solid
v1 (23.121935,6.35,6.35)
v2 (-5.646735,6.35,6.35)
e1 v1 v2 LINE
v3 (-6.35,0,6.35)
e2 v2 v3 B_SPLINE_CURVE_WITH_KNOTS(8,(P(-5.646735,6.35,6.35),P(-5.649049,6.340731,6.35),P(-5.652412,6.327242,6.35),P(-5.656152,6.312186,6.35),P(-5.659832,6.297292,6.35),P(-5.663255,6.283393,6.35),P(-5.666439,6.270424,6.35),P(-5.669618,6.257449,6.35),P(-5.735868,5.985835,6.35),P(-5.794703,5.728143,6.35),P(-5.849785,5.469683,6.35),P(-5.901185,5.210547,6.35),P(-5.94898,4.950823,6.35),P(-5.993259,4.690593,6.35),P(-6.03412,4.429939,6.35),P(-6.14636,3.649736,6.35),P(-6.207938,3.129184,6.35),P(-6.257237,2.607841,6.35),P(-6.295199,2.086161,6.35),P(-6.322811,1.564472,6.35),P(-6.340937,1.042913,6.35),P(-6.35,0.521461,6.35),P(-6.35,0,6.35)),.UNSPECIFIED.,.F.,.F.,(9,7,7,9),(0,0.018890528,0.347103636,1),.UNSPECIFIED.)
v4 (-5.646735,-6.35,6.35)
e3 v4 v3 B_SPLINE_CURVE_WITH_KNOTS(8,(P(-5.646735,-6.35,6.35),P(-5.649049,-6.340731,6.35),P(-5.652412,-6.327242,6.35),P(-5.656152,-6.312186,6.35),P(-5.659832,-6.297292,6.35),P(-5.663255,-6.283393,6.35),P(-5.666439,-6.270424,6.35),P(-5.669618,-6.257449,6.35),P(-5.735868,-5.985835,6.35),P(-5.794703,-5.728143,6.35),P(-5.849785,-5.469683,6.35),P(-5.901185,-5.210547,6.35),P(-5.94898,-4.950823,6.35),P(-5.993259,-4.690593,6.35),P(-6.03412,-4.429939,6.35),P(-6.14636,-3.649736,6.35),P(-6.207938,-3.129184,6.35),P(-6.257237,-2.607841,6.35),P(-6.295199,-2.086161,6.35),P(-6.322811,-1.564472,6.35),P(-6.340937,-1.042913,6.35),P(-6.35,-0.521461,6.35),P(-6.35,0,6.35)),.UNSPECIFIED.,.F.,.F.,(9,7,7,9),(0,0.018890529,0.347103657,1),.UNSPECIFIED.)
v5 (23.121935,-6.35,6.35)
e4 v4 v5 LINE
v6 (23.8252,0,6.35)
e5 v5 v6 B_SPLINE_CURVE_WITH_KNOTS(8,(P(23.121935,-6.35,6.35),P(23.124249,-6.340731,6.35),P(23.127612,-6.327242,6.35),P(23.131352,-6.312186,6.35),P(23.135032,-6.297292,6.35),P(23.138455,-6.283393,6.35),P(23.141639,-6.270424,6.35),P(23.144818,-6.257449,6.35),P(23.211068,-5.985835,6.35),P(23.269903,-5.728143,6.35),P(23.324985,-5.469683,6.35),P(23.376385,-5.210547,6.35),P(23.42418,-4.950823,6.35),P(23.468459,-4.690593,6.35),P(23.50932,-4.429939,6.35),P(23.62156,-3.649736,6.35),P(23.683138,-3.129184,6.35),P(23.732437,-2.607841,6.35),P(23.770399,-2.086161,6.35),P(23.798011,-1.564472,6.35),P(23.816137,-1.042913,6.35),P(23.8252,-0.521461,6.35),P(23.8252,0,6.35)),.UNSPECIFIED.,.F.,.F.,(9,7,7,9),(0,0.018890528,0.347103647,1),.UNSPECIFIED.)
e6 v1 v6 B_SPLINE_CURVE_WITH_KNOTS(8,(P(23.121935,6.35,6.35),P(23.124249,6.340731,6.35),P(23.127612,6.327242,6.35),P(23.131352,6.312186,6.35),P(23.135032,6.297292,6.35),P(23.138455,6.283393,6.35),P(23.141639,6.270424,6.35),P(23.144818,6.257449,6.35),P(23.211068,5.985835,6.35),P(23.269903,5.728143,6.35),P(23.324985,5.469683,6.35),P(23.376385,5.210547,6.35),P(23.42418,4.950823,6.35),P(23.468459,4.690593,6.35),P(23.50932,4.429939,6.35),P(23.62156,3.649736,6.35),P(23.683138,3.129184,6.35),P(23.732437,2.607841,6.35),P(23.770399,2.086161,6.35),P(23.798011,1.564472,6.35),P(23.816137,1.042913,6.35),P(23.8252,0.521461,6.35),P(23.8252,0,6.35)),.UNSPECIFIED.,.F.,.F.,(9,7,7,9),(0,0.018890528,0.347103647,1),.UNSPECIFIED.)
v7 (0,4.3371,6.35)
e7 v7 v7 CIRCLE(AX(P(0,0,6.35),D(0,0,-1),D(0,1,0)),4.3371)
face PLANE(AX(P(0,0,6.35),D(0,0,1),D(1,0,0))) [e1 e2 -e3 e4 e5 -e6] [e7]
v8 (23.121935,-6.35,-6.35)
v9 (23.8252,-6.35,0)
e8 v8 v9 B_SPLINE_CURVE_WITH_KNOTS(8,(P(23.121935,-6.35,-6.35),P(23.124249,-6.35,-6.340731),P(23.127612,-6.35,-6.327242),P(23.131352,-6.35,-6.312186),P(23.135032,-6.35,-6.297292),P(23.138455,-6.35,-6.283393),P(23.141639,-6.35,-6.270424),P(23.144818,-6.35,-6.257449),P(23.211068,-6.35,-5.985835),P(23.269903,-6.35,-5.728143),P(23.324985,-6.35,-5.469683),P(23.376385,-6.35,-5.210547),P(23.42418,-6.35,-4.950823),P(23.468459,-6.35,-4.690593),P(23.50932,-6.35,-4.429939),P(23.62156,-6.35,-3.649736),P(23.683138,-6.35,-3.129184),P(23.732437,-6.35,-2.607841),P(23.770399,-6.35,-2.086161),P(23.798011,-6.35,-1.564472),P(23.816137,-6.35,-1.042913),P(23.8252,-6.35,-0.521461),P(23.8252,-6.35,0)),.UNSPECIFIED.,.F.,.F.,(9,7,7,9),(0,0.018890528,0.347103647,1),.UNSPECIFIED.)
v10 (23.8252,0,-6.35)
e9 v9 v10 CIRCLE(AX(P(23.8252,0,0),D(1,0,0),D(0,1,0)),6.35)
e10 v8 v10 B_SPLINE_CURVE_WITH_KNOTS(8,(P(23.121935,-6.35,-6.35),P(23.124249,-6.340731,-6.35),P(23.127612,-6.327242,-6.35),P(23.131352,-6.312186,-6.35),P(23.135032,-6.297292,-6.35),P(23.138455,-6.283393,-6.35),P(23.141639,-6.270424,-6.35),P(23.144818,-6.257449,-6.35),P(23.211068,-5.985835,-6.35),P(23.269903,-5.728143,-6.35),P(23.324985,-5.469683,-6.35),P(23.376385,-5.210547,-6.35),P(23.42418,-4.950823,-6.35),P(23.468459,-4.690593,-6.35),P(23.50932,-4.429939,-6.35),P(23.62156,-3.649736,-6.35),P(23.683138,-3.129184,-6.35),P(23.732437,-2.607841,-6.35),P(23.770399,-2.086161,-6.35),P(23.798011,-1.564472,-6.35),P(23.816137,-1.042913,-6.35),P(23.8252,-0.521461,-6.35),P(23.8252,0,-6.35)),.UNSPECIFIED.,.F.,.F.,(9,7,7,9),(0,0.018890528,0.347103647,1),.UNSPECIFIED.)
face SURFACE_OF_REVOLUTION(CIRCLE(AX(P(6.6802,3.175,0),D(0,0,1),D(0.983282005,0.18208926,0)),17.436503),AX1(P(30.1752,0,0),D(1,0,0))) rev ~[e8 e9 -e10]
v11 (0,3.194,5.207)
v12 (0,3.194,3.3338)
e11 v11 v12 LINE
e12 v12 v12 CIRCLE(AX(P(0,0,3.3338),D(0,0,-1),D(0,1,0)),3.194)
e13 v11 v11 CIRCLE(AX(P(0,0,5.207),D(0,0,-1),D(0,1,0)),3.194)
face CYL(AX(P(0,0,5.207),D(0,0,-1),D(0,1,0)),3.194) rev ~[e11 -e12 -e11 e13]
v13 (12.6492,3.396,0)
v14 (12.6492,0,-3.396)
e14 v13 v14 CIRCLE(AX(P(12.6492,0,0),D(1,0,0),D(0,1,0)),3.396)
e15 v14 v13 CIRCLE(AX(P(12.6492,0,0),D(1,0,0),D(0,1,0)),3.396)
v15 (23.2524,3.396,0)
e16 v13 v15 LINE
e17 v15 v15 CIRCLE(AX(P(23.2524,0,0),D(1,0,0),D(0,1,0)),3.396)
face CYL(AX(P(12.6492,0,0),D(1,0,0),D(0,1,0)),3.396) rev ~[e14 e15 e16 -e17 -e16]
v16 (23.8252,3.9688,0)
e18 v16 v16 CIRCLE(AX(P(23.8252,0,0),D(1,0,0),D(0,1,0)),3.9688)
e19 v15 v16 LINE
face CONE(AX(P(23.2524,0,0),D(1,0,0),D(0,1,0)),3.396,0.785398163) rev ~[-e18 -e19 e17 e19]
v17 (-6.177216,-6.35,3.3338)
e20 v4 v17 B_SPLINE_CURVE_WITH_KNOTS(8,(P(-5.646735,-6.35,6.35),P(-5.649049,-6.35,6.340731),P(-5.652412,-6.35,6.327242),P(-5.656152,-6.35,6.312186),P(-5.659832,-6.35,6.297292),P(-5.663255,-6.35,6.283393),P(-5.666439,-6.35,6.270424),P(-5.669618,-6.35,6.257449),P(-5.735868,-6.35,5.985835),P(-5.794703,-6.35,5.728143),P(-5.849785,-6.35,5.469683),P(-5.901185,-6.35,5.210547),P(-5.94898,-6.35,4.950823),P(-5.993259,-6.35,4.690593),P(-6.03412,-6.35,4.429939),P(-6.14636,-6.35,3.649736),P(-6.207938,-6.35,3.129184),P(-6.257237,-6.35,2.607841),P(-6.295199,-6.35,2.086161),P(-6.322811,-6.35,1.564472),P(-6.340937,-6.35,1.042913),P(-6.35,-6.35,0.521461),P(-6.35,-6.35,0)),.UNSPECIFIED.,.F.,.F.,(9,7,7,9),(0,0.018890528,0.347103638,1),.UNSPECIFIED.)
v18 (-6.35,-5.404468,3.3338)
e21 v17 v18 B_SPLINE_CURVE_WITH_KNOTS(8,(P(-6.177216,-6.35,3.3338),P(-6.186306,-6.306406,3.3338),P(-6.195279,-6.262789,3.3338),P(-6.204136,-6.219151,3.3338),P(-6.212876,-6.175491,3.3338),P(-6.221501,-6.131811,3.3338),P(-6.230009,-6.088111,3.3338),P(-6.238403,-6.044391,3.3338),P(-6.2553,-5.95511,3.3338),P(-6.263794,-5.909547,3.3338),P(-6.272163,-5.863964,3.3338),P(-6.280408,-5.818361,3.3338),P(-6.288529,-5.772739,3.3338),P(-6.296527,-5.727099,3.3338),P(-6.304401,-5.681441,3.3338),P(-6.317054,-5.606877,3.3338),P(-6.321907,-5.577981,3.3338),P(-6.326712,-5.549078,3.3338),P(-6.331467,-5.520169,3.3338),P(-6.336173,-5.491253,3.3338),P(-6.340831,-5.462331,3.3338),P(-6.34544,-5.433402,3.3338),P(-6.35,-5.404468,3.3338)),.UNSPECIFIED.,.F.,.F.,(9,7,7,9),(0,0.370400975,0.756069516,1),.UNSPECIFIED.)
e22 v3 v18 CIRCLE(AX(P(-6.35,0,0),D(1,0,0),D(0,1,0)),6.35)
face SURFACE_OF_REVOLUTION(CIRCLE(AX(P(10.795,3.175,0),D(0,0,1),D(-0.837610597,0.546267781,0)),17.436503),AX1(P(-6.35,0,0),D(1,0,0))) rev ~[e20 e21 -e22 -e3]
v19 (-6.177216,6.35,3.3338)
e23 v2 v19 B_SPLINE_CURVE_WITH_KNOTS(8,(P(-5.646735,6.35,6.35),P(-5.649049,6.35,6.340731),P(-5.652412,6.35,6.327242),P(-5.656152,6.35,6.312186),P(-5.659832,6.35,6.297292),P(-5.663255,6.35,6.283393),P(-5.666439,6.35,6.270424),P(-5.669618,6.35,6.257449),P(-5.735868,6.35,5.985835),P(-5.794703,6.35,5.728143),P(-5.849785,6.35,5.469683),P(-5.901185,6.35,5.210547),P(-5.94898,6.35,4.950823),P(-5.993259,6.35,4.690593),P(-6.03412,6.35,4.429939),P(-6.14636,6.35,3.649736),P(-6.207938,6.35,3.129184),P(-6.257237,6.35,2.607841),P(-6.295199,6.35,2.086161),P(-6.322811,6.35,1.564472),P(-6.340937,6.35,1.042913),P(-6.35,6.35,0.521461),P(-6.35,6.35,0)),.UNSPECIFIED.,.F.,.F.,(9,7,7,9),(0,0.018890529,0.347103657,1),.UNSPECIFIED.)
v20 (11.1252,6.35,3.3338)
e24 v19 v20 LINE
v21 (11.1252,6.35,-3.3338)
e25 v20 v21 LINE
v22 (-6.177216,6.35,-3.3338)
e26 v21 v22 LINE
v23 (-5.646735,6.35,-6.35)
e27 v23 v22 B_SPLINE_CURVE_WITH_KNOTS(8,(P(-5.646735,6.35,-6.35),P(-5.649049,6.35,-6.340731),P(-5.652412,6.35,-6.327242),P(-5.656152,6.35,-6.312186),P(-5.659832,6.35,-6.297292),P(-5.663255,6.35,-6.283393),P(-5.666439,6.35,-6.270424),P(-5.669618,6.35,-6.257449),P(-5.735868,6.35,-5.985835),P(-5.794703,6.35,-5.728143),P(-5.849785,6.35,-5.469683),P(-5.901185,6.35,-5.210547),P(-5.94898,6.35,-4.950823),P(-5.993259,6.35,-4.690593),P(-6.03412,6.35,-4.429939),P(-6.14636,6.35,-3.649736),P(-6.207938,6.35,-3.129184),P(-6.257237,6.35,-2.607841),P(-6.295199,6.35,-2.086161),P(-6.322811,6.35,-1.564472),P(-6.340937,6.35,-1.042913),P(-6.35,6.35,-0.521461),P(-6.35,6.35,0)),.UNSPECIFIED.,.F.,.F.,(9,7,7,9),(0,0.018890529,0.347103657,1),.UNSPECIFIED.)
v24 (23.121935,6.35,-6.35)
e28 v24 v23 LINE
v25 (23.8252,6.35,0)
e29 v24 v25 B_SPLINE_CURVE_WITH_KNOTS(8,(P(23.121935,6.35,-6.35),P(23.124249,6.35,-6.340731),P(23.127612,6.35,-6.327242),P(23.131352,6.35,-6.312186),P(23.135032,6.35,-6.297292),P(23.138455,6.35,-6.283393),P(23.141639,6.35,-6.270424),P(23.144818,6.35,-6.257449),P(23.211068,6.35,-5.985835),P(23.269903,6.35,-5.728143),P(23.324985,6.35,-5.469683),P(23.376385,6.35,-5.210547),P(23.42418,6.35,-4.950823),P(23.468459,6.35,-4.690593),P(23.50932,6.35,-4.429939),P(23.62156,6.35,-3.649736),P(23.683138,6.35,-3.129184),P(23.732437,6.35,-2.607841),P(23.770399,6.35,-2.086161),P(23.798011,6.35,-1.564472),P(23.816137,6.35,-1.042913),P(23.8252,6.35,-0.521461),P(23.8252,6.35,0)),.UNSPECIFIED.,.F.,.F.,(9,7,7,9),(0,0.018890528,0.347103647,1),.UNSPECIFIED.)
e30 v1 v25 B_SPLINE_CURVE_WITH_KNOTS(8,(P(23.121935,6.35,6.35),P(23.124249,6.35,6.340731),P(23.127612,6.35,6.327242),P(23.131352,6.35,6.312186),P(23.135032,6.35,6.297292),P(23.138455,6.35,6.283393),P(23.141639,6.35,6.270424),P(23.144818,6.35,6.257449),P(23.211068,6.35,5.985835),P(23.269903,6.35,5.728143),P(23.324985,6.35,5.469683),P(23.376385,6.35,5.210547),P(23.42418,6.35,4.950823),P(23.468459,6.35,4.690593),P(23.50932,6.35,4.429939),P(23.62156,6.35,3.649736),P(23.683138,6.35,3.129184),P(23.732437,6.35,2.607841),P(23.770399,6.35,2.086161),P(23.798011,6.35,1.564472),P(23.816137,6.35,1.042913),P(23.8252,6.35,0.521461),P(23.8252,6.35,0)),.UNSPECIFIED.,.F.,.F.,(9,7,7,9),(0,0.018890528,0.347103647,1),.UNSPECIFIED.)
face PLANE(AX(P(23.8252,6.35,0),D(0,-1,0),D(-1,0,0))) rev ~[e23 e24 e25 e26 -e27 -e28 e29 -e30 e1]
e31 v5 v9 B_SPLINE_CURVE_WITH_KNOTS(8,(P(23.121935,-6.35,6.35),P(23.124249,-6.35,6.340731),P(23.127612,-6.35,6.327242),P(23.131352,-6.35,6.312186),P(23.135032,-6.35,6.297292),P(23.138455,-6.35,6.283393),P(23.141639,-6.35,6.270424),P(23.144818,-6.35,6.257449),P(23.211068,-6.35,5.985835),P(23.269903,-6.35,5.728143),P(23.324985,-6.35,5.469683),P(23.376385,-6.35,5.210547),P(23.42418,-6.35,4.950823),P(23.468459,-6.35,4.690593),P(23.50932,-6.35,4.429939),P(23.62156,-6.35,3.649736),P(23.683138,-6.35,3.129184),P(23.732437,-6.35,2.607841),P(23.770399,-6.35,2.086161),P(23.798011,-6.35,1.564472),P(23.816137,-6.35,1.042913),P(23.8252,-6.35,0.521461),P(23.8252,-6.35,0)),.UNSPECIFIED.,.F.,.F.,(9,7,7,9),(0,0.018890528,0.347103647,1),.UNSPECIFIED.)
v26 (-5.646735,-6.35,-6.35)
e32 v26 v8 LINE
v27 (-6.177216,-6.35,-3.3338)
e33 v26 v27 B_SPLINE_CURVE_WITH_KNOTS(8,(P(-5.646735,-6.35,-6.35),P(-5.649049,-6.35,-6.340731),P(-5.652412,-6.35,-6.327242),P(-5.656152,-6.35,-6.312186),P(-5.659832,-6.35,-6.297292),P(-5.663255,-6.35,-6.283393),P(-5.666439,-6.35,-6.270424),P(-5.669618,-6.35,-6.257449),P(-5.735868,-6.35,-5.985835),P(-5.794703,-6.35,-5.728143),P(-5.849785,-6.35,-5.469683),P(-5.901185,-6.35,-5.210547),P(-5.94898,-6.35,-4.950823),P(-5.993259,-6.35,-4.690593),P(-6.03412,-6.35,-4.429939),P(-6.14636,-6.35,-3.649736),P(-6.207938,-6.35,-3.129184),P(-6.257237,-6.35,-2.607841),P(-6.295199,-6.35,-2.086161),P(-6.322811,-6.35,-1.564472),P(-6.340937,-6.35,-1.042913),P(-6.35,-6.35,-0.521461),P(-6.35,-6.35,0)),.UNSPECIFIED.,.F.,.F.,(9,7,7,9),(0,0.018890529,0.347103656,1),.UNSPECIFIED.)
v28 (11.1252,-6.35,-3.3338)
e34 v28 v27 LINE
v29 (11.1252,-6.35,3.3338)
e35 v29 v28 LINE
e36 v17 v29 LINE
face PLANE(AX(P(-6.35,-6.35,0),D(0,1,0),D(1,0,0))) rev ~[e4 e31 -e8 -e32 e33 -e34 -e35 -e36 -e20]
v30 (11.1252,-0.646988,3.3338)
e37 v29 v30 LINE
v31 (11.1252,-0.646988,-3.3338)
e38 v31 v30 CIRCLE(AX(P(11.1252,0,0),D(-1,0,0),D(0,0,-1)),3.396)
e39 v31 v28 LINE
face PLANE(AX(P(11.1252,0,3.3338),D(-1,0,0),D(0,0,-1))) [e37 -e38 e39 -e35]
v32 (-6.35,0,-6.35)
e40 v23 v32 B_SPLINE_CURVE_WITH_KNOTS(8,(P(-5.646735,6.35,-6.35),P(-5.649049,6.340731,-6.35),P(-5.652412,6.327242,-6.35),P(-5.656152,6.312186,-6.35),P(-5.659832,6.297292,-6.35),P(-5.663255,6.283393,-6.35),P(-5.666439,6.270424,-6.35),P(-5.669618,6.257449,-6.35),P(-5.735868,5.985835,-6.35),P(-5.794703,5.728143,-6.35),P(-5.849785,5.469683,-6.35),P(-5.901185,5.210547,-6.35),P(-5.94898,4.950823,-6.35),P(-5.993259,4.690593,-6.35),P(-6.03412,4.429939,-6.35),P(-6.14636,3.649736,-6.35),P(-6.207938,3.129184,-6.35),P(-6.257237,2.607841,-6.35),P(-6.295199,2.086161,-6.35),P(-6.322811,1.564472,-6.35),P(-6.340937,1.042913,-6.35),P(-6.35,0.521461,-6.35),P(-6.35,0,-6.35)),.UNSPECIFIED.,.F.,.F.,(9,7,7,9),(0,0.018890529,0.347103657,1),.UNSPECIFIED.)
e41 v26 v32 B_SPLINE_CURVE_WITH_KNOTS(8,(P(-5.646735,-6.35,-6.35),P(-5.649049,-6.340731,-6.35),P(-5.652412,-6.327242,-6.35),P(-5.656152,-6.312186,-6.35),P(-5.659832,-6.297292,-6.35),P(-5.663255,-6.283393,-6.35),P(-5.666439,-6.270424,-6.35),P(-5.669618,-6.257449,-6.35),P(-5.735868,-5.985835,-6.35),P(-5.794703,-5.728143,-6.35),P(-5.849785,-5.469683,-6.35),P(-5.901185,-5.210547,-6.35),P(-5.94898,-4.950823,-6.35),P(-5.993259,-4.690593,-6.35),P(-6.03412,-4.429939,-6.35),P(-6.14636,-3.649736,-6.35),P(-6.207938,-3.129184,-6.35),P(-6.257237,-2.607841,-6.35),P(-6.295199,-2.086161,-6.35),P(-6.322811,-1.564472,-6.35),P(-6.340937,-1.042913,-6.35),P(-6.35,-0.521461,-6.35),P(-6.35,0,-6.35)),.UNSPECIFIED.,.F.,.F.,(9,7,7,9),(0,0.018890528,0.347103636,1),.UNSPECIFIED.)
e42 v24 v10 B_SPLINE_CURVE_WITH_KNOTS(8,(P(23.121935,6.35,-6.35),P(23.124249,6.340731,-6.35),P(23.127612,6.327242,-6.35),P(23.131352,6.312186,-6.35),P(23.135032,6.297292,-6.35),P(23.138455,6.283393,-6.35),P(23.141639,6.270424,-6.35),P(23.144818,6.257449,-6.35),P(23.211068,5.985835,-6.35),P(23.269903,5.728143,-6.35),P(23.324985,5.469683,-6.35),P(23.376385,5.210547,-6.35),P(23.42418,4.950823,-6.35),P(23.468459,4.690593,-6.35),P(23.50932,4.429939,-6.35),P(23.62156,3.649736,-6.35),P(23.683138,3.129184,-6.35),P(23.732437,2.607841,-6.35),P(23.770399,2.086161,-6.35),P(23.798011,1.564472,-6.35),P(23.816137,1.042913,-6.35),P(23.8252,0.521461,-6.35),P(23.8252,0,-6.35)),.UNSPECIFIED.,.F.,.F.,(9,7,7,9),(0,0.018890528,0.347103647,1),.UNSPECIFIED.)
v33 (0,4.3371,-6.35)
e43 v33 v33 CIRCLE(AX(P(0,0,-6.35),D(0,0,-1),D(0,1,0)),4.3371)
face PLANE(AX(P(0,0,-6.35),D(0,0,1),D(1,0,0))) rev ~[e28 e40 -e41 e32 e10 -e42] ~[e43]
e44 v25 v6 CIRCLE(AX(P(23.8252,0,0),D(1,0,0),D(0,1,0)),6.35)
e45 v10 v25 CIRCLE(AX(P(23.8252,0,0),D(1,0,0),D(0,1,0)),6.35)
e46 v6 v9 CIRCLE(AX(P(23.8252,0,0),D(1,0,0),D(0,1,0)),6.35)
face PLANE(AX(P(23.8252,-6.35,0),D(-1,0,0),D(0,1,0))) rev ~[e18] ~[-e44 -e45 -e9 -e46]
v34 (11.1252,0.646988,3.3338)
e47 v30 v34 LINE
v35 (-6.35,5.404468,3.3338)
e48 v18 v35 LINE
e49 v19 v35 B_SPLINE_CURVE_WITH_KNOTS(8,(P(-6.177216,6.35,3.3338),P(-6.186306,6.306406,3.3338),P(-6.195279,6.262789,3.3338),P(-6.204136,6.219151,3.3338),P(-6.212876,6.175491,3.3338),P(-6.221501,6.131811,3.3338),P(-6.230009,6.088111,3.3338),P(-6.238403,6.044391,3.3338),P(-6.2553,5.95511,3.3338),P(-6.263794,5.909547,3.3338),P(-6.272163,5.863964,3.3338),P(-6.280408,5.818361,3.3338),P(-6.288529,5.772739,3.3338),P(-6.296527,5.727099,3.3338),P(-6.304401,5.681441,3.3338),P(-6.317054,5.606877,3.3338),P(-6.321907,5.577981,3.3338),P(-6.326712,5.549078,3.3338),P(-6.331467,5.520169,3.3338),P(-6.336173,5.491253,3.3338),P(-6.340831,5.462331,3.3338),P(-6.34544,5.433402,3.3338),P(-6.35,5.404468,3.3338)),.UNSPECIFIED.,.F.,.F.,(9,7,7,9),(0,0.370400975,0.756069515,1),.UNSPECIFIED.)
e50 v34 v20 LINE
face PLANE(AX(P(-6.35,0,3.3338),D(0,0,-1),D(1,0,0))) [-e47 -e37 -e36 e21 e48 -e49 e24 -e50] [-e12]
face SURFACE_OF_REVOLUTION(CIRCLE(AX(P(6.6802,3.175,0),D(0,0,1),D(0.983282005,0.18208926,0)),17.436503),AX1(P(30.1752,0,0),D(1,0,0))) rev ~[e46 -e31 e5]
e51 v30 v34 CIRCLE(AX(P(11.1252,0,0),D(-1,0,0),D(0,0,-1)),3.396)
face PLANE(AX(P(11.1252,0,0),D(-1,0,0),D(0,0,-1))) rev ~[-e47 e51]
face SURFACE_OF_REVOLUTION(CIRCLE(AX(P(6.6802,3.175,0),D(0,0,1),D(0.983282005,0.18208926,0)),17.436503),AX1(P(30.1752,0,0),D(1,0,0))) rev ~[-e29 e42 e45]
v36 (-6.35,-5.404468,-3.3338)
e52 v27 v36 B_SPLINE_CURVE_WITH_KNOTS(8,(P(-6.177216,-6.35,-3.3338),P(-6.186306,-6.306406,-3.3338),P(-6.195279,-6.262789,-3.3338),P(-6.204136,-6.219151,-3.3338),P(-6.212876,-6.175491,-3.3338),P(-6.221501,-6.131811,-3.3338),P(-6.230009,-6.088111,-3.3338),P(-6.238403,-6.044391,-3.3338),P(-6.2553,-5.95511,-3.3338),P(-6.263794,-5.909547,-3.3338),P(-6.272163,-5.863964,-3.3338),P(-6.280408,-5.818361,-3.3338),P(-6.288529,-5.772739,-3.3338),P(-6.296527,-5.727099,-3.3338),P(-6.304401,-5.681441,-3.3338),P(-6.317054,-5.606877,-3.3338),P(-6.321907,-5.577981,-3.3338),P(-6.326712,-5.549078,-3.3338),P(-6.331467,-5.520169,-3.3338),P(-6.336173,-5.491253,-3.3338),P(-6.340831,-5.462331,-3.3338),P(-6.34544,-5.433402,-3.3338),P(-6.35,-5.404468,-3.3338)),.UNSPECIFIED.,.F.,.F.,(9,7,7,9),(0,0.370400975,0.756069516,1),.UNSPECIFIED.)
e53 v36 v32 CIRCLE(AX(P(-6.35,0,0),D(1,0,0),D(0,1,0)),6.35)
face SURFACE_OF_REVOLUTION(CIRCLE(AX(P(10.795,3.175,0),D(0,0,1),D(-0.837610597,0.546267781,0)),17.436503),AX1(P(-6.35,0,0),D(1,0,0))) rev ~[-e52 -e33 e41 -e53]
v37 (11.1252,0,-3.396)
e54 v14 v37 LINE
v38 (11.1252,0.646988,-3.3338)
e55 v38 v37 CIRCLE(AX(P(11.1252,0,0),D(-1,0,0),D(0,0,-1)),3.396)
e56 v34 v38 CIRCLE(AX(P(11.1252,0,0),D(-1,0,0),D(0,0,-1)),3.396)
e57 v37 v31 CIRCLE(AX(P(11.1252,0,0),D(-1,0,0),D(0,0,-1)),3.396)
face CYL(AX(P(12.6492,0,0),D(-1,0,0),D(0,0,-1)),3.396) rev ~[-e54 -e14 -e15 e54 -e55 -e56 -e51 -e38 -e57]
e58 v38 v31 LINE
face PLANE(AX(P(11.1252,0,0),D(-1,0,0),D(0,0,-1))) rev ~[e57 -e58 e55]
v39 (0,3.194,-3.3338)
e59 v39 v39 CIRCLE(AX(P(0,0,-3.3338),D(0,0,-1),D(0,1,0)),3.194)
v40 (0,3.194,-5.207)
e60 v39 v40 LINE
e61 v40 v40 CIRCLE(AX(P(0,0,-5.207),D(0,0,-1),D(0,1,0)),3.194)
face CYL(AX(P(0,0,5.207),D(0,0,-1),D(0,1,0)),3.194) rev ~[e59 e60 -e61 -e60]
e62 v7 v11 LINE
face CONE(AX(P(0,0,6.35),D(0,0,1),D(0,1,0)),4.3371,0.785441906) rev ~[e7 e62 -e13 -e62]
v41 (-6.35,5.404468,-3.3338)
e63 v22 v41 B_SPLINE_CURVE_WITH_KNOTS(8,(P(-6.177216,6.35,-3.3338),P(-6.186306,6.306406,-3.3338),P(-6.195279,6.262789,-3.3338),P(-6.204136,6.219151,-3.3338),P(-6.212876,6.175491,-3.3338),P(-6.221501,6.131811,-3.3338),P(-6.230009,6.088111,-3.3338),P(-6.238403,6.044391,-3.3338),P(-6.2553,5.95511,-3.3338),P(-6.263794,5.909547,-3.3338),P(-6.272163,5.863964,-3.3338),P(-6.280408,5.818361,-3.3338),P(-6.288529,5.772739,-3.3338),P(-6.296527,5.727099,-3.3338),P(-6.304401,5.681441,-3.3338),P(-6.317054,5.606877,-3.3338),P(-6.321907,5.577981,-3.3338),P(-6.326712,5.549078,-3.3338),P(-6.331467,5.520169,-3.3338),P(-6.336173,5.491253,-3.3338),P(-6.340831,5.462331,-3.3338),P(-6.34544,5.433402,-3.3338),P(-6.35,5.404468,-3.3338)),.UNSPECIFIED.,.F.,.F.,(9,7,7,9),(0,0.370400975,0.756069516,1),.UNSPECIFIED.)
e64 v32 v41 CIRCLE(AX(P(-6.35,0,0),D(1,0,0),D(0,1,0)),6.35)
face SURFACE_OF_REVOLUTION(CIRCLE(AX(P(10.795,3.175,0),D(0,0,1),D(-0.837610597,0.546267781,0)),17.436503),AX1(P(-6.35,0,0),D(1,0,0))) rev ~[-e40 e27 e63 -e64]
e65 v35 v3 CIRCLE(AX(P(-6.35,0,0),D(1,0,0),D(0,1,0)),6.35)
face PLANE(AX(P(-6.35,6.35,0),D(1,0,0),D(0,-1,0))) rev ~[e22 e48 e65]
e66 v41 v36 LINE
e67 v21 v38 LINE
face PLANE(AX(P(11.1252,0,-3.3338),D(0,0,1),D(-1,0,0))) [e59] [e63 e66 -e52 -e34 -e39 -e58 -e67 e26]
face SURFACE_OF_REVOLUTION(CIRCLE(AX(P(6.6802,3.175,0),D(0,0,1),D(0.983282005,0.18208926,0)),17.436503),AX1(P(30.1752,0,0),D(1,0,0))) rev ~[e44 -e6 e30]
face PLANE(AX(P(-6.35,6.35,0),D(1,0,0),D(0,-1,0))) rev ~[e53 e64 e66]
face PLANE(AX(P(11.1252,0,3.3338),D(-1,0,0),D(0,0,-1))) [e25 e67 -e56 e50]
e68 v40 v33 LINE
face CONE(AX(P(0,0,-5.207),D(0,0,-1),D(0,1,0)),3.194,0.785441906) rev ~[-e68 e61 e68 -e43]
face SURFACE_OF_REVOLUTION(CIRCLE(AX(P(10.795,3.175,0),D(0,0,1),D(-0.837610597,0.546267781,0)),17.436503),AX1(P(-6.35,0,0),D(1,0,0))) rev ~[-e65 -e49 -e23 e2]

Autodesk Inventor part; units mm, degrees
sketch "Sketch_1" plane through (0, 0, 0) normal (0, 0, 1) x (1, 0, 0)
  line L0 (-6.35, -6.35) -> (23.8252, -6.35)
  line L1 (23.8252, -6.35) -> (23.8252, 6.35)
  line L2 (23.8252, 6.35) -> (-6.35, 6.35)
  line L3 (-6.35, 6.35) -> (-6.35, -6.35)
extrude "Extrusion1" add sketch "Sketch_1" along normal mid plane 12.7
sketch "Sketch_2" plane through (0, 0, 0) normal (0, 1, 0) x (-1, 0, 0)
  line L0 (6.35, 3.3338) -> (-11.1252, 3.3338)
  line L1 (-11.1252, 3.3338) -> (-11.1252, -3.3338)
  line L2 (-11.1252, -3.3338) -> (6.35, -3.3338)
  line L3 (6.35, -3.3338) -> (6.35, 3.3338)
extrude "Extrusion2" cut sketch "Sketch_2" along normal mid plane 12.7
sketch "Sketch_3" plane through (0, 0, 0) normal (0, 0, 1) x (1, 0, 0)
  line L0 (23.8252, 0) -> (12.6492, 0)
  line L1 (12.6492, 0) -> (12.6492, 3.396)
  line L2 (12.6492, 3.396) -> (23.2524, 3.396)
  line L3 (23.2524, 3.396) -> (23.8252, 3.9688)
  line L4 (23.8252, 3.9688) -> (23.8252, 0)
  line L5 (23.8252, 0) -> (12.6492, 0)
revolve "Revolution1" cut sketch "Sketch_3" angle 360 about axis through (23.8252, 0, 0) along (1, 0, 0)
thread "Thread1" size "5/16-24 UNF" class "2B" standard "ANSI Unified Screw Threads" full length
sketch "Sketch5" plane through (12.6492, 0, 0) normal (1, 0, 0) x (0, 0, -1)
  point P0 (0, 0)
hole "Hole1" at (12.6492, 0, 0) direction (-1, 0, 0) diameter 6.792 depth 1.524
sketch "Sketch_5" plane through (0, 0, 0) normal (1, 0, 0) x (0, 1, 0)
  line L0 (0, -6.35) -> (0, 6.35)
  line L1 (0, 6.35) -> (4.3371, 6.35)
  line L2 (4.3371, 6.35) -> (3.194, 5.207)
  line L3 (3.194, 5.207) -> (3.194, -5.207)
  line L4 (3.194, -5.207) -> (4.3371, -6.35)
  line L5 (4.3371, -6.35) -> (0, -6.35)
  line L6 (0, -6.35) -> (0, 6.35)
revolve "Revolution2" cut sketch "Sketch_5" angle 360 about axis through (0, 0, -6.35) along (0, 0, -1)
sketch "Sketch_9" plane through (0, 0, 0) normal (0, 0, 1) x (1, 0, 0)
  line L0 (30.1752, 0) -> (23.8252, 0)
  line L1 (23.8252, 0) -> (23.8252, 6.35)
  arc A0 (23.8252, 6.35) -> (21.2852, 12.7) centre (6.6802, 3.175) ccw
  line L2 (21.2852, 12.7) -> (30.1752, 12.7)
  line L3 (30.1752, 12.7) -> (30.1752, 0)
  line L4 (30.1752, 0) -> (23.8252, 0)
revolve "Revolution3" cut sketch "Sketch_9" angle 360 about axis through (30.1752, 0, 0) along (1, 0, 0)
sketch "Sketch_10" plane through (0, 0, 0) normal (0, 0, 1) x (1, 0, 0)
  line L0 (-6.35, 0) -> (-12.7, 0)
  line L1 (-12.7, 0) -> (-12.7, 12.7)
  line L2 (-12.7, 12.7) -> (-3.81, 12.7)
  arc A0 (-3.81, 12.7) -> (-6.35, 6.35) centre (10.795, 3.175) ccw
  line L3 (-6.35, 6.35) -> (-6.35, 0)
  line L4 (-6.35, 0) -> (-12.7, 0)
revolve "Revolution4" cut sketch "Sketch_10" angle 360 about axis through (-6.35, 0, 0) along (1, 0, 0)
ref_plane "dummy_XY" through (0, 0, 0) normal (0, 0, 1) x (1, 0, 0)
ref_plane "dummy_YZ" through (0, 0, 0) normal (1, 0, 0) x (0, 1, 0)
ref_plane "dummy_ZX" through (0, 0, 0) normal (0, 1, 0) x (0, 0, 1)
ref_plane "h1_XY" through (-6.35, 6.35, 0) normal (0, 0, 1) x (1, 0, 0)
ref_plane "h1_YZ" through (-6.35, 6.35, 0) normal (1, 0, 0) x (0, 1, 0)
ref_plane "h1_ZX" through (-6.35, 6.35, 0) normal (0, 1, 0) x (0, 0, 1)
ref_plane "h2_XY" through (-6.35, -6.35, 0) normal (0, 0, 1) x (1, 0, 0)
ref_plane "h2_YZ" through (-6.35, -6.35, 0) normal (1, 0, 0) x (0, 1, 0)
ref_plane "h2_ZX" through (-6.35, -6.35, 0) normal (0, 1, 0) x (0, 0, 1)
ref_plane "l1_XY" through (23.8252, 6.35, 0) normal (0, 0, 1) x (1, 0, 0)
ref_plane "l1_YZ" through (23.8252, 6.35, 0) normal (1, 0, 0) x (0, 1, 0)
ref_plane "l1_ZX" through (23.8252, 6.35, 0) normal (0, 1, 0) x (0, 0, 1)
ref_plane "l11_XY" through (23.8252, 6.35, 0) normal (0, 0, 1) x (1, 0, 0)
ref_plane "l11_YZ" through (23.8252, 6.35, 0) normal (1, 0, 0) x (0, 1, 0)
ref_plane "l11_ZX" through (23.8252, 6.35, 0) normal (0, 1, 0) x (0, 0, 1)
ref_plane "l12_XY" through (0, 6.35, 0) normal (0, 0, 1) x (1, 0, 0)
ref_plane "l12_YZ" through (0, 6.35, 0) normal (1, 0, 0) x (0, 1, 0)
ref_plane "l12_ZX" through (0, 6.35, 0) normal (0, 1, 0) x (0, 0, 1)
ref_plane "l2_XY" through (-6.35, 6.35, 0) normal (0, 0, 1) x (1, 0, 0)
ref_plane "l2_YZ" through (-6.35, 6.35, 0) normal (1, 0, 0) x (0, 1, 0)
ref_plane "l2_ZX" through (-6.35, 6.35, 0) normal (0, 1, 0) x (0, 0, 1)
ref_plane "l21_XY" through (23.8252, 0, 0) normal (0, 1, 0) x (1, 0, 0)
ref_plane "l21_YZ" through (23.8252, 0, 0) normal (1, 0, 0) x (0, 0, -1)
ref_plane "l21_ZX" through (23.8252, 0, 0) normal (0, 0, -1) x (0, 1, 0)
ref_plane "l22_XY" through (11.1252, 0, 0) normal (0, 1, 0) x (1, 0, 0)
ref_plane "l22_YZ" through (11.1252, 0, 0) normal (1, 0, 0) x (0, 0, -1)
ref_plane "l22_ZX" through (11.1252, 0, 0) normal (0, 0, -1) x (0, 1, 0)
ref_plane "piston_rod_clevis_XY" through (23.8252, 0, 0) normal (1, 0, 0) x (0, 0, -1)
ref_plane "piston_rod_clevis_YZ" through (23.8252, 0, 0) normal (0, 0, -1) x (0, 1, 0)
ref_plane "piston_rod_clevis_ZX" through (23.8252, 0, 0) normal (0, 1, 0) x (1, 0, 0)
ref_plane "rod_clevis_body_XY" through (0, 0, 0) normal (0, 0, 1) x (1, 0, 0)
ref_plane "rod_clevis_body_YZ" through (0, 0, 0) normal (1, 0, 0) x (0, 1, 0)
ref_plane "rod_clevis_body_ZX" through (0, 0, 0) normal (0, 1, 0) x (0, 0, 1)
ref_plane "th1_XY" through (23.8252, 3.9688, 0) normal (0, 0, 1) x (1, 0, 0)
ref_plane "th1_YZ" through (23.8252, 3.9688, 0) normal (1, 0, 0) x (0, 1, 0)
ref_plane "th1_ZX" through (23.8252, 3.9688, 0) normal (0, 1, 0) x (0, 0, 1)
ref_plane "th2_XY" through (23.8252, -3.9688, 0) normal (0, 0, 1) x (1, 0, 0)
ref_plane "th2_YZ" through (23.8252, -3.9688, 0) normal (1, 0, 0) x (0, 1, 0)
ref_plane "th2_ZX" through (23.8252, -3.9688, 0) normal (0, 1, 0) x (0, 0, 1)
ref_plane "to_cylinder_XY" through (11.1252, 0, 0) normal (1, 0, 0) x (0, 0, -1)
ref_plane "to_cylinder_YZ" through (11.1252, 0, 0) normal (0, 0, -1) x (0, 1, 0)
ref_plane "to_cylinder_ZX" through (11.1252, 0, 0) normal (0, 1, 0) x (1, 0, 0)
ref_plane "w1_XY" through (23.8252, 0, -6.35) normal (0, 1, 0) x (1, 0, 0)
ref_plane "w1_YZ" through (23.8252, 0, -6.35) normal (1, 0, 0) x (0, 0, -1)
ref_plane "w1_ZX" through (23.8252, 0, -6.35) normal (0, 0, -1) x (0, 1, 0)
ref_plane "w11_XY" through (-6.35, 0, -3.3338) normal (0, 1, 0) x (1, 0, 0)
ref_plane "w11_YZ" through (-6.35, 0, -3.3338) normal (1, 0, 0) x (0, 0, -1)
ref_plane "w11_ZX" through (-6.35, 0, -3.3338) normal (0, 0, -1) x (0, 1, 0)
ref_plane "w12_XY" through (-6.35, 0, 3.3338) normal (0, 1, 0) x (1, 0, 0)
ref_plane "w12_YZ" through (-6.35, 0, 3.3338) normal (1, 0, 0) x (0, 0, -1)
ref_plane "w12_ZX" through (-6.35, 0, 3.3338) normal (0, 0, -1) x (0, 1, 0)
ref_plane "w2_XY" through (23.8252, 0, 6.35) normal (0, 1, 0) x (1, 0, 0)
ref_plane "w2_YZ" through (23.8252, 0, 6.35) normal (1, 0, 0) x (0, 0, -1)
ref_plane "w2_ZX" through (23.8252, 0, 6.35) normal (0, 0, -1) x (0, 1, 0)
properties part number "D-14059"
